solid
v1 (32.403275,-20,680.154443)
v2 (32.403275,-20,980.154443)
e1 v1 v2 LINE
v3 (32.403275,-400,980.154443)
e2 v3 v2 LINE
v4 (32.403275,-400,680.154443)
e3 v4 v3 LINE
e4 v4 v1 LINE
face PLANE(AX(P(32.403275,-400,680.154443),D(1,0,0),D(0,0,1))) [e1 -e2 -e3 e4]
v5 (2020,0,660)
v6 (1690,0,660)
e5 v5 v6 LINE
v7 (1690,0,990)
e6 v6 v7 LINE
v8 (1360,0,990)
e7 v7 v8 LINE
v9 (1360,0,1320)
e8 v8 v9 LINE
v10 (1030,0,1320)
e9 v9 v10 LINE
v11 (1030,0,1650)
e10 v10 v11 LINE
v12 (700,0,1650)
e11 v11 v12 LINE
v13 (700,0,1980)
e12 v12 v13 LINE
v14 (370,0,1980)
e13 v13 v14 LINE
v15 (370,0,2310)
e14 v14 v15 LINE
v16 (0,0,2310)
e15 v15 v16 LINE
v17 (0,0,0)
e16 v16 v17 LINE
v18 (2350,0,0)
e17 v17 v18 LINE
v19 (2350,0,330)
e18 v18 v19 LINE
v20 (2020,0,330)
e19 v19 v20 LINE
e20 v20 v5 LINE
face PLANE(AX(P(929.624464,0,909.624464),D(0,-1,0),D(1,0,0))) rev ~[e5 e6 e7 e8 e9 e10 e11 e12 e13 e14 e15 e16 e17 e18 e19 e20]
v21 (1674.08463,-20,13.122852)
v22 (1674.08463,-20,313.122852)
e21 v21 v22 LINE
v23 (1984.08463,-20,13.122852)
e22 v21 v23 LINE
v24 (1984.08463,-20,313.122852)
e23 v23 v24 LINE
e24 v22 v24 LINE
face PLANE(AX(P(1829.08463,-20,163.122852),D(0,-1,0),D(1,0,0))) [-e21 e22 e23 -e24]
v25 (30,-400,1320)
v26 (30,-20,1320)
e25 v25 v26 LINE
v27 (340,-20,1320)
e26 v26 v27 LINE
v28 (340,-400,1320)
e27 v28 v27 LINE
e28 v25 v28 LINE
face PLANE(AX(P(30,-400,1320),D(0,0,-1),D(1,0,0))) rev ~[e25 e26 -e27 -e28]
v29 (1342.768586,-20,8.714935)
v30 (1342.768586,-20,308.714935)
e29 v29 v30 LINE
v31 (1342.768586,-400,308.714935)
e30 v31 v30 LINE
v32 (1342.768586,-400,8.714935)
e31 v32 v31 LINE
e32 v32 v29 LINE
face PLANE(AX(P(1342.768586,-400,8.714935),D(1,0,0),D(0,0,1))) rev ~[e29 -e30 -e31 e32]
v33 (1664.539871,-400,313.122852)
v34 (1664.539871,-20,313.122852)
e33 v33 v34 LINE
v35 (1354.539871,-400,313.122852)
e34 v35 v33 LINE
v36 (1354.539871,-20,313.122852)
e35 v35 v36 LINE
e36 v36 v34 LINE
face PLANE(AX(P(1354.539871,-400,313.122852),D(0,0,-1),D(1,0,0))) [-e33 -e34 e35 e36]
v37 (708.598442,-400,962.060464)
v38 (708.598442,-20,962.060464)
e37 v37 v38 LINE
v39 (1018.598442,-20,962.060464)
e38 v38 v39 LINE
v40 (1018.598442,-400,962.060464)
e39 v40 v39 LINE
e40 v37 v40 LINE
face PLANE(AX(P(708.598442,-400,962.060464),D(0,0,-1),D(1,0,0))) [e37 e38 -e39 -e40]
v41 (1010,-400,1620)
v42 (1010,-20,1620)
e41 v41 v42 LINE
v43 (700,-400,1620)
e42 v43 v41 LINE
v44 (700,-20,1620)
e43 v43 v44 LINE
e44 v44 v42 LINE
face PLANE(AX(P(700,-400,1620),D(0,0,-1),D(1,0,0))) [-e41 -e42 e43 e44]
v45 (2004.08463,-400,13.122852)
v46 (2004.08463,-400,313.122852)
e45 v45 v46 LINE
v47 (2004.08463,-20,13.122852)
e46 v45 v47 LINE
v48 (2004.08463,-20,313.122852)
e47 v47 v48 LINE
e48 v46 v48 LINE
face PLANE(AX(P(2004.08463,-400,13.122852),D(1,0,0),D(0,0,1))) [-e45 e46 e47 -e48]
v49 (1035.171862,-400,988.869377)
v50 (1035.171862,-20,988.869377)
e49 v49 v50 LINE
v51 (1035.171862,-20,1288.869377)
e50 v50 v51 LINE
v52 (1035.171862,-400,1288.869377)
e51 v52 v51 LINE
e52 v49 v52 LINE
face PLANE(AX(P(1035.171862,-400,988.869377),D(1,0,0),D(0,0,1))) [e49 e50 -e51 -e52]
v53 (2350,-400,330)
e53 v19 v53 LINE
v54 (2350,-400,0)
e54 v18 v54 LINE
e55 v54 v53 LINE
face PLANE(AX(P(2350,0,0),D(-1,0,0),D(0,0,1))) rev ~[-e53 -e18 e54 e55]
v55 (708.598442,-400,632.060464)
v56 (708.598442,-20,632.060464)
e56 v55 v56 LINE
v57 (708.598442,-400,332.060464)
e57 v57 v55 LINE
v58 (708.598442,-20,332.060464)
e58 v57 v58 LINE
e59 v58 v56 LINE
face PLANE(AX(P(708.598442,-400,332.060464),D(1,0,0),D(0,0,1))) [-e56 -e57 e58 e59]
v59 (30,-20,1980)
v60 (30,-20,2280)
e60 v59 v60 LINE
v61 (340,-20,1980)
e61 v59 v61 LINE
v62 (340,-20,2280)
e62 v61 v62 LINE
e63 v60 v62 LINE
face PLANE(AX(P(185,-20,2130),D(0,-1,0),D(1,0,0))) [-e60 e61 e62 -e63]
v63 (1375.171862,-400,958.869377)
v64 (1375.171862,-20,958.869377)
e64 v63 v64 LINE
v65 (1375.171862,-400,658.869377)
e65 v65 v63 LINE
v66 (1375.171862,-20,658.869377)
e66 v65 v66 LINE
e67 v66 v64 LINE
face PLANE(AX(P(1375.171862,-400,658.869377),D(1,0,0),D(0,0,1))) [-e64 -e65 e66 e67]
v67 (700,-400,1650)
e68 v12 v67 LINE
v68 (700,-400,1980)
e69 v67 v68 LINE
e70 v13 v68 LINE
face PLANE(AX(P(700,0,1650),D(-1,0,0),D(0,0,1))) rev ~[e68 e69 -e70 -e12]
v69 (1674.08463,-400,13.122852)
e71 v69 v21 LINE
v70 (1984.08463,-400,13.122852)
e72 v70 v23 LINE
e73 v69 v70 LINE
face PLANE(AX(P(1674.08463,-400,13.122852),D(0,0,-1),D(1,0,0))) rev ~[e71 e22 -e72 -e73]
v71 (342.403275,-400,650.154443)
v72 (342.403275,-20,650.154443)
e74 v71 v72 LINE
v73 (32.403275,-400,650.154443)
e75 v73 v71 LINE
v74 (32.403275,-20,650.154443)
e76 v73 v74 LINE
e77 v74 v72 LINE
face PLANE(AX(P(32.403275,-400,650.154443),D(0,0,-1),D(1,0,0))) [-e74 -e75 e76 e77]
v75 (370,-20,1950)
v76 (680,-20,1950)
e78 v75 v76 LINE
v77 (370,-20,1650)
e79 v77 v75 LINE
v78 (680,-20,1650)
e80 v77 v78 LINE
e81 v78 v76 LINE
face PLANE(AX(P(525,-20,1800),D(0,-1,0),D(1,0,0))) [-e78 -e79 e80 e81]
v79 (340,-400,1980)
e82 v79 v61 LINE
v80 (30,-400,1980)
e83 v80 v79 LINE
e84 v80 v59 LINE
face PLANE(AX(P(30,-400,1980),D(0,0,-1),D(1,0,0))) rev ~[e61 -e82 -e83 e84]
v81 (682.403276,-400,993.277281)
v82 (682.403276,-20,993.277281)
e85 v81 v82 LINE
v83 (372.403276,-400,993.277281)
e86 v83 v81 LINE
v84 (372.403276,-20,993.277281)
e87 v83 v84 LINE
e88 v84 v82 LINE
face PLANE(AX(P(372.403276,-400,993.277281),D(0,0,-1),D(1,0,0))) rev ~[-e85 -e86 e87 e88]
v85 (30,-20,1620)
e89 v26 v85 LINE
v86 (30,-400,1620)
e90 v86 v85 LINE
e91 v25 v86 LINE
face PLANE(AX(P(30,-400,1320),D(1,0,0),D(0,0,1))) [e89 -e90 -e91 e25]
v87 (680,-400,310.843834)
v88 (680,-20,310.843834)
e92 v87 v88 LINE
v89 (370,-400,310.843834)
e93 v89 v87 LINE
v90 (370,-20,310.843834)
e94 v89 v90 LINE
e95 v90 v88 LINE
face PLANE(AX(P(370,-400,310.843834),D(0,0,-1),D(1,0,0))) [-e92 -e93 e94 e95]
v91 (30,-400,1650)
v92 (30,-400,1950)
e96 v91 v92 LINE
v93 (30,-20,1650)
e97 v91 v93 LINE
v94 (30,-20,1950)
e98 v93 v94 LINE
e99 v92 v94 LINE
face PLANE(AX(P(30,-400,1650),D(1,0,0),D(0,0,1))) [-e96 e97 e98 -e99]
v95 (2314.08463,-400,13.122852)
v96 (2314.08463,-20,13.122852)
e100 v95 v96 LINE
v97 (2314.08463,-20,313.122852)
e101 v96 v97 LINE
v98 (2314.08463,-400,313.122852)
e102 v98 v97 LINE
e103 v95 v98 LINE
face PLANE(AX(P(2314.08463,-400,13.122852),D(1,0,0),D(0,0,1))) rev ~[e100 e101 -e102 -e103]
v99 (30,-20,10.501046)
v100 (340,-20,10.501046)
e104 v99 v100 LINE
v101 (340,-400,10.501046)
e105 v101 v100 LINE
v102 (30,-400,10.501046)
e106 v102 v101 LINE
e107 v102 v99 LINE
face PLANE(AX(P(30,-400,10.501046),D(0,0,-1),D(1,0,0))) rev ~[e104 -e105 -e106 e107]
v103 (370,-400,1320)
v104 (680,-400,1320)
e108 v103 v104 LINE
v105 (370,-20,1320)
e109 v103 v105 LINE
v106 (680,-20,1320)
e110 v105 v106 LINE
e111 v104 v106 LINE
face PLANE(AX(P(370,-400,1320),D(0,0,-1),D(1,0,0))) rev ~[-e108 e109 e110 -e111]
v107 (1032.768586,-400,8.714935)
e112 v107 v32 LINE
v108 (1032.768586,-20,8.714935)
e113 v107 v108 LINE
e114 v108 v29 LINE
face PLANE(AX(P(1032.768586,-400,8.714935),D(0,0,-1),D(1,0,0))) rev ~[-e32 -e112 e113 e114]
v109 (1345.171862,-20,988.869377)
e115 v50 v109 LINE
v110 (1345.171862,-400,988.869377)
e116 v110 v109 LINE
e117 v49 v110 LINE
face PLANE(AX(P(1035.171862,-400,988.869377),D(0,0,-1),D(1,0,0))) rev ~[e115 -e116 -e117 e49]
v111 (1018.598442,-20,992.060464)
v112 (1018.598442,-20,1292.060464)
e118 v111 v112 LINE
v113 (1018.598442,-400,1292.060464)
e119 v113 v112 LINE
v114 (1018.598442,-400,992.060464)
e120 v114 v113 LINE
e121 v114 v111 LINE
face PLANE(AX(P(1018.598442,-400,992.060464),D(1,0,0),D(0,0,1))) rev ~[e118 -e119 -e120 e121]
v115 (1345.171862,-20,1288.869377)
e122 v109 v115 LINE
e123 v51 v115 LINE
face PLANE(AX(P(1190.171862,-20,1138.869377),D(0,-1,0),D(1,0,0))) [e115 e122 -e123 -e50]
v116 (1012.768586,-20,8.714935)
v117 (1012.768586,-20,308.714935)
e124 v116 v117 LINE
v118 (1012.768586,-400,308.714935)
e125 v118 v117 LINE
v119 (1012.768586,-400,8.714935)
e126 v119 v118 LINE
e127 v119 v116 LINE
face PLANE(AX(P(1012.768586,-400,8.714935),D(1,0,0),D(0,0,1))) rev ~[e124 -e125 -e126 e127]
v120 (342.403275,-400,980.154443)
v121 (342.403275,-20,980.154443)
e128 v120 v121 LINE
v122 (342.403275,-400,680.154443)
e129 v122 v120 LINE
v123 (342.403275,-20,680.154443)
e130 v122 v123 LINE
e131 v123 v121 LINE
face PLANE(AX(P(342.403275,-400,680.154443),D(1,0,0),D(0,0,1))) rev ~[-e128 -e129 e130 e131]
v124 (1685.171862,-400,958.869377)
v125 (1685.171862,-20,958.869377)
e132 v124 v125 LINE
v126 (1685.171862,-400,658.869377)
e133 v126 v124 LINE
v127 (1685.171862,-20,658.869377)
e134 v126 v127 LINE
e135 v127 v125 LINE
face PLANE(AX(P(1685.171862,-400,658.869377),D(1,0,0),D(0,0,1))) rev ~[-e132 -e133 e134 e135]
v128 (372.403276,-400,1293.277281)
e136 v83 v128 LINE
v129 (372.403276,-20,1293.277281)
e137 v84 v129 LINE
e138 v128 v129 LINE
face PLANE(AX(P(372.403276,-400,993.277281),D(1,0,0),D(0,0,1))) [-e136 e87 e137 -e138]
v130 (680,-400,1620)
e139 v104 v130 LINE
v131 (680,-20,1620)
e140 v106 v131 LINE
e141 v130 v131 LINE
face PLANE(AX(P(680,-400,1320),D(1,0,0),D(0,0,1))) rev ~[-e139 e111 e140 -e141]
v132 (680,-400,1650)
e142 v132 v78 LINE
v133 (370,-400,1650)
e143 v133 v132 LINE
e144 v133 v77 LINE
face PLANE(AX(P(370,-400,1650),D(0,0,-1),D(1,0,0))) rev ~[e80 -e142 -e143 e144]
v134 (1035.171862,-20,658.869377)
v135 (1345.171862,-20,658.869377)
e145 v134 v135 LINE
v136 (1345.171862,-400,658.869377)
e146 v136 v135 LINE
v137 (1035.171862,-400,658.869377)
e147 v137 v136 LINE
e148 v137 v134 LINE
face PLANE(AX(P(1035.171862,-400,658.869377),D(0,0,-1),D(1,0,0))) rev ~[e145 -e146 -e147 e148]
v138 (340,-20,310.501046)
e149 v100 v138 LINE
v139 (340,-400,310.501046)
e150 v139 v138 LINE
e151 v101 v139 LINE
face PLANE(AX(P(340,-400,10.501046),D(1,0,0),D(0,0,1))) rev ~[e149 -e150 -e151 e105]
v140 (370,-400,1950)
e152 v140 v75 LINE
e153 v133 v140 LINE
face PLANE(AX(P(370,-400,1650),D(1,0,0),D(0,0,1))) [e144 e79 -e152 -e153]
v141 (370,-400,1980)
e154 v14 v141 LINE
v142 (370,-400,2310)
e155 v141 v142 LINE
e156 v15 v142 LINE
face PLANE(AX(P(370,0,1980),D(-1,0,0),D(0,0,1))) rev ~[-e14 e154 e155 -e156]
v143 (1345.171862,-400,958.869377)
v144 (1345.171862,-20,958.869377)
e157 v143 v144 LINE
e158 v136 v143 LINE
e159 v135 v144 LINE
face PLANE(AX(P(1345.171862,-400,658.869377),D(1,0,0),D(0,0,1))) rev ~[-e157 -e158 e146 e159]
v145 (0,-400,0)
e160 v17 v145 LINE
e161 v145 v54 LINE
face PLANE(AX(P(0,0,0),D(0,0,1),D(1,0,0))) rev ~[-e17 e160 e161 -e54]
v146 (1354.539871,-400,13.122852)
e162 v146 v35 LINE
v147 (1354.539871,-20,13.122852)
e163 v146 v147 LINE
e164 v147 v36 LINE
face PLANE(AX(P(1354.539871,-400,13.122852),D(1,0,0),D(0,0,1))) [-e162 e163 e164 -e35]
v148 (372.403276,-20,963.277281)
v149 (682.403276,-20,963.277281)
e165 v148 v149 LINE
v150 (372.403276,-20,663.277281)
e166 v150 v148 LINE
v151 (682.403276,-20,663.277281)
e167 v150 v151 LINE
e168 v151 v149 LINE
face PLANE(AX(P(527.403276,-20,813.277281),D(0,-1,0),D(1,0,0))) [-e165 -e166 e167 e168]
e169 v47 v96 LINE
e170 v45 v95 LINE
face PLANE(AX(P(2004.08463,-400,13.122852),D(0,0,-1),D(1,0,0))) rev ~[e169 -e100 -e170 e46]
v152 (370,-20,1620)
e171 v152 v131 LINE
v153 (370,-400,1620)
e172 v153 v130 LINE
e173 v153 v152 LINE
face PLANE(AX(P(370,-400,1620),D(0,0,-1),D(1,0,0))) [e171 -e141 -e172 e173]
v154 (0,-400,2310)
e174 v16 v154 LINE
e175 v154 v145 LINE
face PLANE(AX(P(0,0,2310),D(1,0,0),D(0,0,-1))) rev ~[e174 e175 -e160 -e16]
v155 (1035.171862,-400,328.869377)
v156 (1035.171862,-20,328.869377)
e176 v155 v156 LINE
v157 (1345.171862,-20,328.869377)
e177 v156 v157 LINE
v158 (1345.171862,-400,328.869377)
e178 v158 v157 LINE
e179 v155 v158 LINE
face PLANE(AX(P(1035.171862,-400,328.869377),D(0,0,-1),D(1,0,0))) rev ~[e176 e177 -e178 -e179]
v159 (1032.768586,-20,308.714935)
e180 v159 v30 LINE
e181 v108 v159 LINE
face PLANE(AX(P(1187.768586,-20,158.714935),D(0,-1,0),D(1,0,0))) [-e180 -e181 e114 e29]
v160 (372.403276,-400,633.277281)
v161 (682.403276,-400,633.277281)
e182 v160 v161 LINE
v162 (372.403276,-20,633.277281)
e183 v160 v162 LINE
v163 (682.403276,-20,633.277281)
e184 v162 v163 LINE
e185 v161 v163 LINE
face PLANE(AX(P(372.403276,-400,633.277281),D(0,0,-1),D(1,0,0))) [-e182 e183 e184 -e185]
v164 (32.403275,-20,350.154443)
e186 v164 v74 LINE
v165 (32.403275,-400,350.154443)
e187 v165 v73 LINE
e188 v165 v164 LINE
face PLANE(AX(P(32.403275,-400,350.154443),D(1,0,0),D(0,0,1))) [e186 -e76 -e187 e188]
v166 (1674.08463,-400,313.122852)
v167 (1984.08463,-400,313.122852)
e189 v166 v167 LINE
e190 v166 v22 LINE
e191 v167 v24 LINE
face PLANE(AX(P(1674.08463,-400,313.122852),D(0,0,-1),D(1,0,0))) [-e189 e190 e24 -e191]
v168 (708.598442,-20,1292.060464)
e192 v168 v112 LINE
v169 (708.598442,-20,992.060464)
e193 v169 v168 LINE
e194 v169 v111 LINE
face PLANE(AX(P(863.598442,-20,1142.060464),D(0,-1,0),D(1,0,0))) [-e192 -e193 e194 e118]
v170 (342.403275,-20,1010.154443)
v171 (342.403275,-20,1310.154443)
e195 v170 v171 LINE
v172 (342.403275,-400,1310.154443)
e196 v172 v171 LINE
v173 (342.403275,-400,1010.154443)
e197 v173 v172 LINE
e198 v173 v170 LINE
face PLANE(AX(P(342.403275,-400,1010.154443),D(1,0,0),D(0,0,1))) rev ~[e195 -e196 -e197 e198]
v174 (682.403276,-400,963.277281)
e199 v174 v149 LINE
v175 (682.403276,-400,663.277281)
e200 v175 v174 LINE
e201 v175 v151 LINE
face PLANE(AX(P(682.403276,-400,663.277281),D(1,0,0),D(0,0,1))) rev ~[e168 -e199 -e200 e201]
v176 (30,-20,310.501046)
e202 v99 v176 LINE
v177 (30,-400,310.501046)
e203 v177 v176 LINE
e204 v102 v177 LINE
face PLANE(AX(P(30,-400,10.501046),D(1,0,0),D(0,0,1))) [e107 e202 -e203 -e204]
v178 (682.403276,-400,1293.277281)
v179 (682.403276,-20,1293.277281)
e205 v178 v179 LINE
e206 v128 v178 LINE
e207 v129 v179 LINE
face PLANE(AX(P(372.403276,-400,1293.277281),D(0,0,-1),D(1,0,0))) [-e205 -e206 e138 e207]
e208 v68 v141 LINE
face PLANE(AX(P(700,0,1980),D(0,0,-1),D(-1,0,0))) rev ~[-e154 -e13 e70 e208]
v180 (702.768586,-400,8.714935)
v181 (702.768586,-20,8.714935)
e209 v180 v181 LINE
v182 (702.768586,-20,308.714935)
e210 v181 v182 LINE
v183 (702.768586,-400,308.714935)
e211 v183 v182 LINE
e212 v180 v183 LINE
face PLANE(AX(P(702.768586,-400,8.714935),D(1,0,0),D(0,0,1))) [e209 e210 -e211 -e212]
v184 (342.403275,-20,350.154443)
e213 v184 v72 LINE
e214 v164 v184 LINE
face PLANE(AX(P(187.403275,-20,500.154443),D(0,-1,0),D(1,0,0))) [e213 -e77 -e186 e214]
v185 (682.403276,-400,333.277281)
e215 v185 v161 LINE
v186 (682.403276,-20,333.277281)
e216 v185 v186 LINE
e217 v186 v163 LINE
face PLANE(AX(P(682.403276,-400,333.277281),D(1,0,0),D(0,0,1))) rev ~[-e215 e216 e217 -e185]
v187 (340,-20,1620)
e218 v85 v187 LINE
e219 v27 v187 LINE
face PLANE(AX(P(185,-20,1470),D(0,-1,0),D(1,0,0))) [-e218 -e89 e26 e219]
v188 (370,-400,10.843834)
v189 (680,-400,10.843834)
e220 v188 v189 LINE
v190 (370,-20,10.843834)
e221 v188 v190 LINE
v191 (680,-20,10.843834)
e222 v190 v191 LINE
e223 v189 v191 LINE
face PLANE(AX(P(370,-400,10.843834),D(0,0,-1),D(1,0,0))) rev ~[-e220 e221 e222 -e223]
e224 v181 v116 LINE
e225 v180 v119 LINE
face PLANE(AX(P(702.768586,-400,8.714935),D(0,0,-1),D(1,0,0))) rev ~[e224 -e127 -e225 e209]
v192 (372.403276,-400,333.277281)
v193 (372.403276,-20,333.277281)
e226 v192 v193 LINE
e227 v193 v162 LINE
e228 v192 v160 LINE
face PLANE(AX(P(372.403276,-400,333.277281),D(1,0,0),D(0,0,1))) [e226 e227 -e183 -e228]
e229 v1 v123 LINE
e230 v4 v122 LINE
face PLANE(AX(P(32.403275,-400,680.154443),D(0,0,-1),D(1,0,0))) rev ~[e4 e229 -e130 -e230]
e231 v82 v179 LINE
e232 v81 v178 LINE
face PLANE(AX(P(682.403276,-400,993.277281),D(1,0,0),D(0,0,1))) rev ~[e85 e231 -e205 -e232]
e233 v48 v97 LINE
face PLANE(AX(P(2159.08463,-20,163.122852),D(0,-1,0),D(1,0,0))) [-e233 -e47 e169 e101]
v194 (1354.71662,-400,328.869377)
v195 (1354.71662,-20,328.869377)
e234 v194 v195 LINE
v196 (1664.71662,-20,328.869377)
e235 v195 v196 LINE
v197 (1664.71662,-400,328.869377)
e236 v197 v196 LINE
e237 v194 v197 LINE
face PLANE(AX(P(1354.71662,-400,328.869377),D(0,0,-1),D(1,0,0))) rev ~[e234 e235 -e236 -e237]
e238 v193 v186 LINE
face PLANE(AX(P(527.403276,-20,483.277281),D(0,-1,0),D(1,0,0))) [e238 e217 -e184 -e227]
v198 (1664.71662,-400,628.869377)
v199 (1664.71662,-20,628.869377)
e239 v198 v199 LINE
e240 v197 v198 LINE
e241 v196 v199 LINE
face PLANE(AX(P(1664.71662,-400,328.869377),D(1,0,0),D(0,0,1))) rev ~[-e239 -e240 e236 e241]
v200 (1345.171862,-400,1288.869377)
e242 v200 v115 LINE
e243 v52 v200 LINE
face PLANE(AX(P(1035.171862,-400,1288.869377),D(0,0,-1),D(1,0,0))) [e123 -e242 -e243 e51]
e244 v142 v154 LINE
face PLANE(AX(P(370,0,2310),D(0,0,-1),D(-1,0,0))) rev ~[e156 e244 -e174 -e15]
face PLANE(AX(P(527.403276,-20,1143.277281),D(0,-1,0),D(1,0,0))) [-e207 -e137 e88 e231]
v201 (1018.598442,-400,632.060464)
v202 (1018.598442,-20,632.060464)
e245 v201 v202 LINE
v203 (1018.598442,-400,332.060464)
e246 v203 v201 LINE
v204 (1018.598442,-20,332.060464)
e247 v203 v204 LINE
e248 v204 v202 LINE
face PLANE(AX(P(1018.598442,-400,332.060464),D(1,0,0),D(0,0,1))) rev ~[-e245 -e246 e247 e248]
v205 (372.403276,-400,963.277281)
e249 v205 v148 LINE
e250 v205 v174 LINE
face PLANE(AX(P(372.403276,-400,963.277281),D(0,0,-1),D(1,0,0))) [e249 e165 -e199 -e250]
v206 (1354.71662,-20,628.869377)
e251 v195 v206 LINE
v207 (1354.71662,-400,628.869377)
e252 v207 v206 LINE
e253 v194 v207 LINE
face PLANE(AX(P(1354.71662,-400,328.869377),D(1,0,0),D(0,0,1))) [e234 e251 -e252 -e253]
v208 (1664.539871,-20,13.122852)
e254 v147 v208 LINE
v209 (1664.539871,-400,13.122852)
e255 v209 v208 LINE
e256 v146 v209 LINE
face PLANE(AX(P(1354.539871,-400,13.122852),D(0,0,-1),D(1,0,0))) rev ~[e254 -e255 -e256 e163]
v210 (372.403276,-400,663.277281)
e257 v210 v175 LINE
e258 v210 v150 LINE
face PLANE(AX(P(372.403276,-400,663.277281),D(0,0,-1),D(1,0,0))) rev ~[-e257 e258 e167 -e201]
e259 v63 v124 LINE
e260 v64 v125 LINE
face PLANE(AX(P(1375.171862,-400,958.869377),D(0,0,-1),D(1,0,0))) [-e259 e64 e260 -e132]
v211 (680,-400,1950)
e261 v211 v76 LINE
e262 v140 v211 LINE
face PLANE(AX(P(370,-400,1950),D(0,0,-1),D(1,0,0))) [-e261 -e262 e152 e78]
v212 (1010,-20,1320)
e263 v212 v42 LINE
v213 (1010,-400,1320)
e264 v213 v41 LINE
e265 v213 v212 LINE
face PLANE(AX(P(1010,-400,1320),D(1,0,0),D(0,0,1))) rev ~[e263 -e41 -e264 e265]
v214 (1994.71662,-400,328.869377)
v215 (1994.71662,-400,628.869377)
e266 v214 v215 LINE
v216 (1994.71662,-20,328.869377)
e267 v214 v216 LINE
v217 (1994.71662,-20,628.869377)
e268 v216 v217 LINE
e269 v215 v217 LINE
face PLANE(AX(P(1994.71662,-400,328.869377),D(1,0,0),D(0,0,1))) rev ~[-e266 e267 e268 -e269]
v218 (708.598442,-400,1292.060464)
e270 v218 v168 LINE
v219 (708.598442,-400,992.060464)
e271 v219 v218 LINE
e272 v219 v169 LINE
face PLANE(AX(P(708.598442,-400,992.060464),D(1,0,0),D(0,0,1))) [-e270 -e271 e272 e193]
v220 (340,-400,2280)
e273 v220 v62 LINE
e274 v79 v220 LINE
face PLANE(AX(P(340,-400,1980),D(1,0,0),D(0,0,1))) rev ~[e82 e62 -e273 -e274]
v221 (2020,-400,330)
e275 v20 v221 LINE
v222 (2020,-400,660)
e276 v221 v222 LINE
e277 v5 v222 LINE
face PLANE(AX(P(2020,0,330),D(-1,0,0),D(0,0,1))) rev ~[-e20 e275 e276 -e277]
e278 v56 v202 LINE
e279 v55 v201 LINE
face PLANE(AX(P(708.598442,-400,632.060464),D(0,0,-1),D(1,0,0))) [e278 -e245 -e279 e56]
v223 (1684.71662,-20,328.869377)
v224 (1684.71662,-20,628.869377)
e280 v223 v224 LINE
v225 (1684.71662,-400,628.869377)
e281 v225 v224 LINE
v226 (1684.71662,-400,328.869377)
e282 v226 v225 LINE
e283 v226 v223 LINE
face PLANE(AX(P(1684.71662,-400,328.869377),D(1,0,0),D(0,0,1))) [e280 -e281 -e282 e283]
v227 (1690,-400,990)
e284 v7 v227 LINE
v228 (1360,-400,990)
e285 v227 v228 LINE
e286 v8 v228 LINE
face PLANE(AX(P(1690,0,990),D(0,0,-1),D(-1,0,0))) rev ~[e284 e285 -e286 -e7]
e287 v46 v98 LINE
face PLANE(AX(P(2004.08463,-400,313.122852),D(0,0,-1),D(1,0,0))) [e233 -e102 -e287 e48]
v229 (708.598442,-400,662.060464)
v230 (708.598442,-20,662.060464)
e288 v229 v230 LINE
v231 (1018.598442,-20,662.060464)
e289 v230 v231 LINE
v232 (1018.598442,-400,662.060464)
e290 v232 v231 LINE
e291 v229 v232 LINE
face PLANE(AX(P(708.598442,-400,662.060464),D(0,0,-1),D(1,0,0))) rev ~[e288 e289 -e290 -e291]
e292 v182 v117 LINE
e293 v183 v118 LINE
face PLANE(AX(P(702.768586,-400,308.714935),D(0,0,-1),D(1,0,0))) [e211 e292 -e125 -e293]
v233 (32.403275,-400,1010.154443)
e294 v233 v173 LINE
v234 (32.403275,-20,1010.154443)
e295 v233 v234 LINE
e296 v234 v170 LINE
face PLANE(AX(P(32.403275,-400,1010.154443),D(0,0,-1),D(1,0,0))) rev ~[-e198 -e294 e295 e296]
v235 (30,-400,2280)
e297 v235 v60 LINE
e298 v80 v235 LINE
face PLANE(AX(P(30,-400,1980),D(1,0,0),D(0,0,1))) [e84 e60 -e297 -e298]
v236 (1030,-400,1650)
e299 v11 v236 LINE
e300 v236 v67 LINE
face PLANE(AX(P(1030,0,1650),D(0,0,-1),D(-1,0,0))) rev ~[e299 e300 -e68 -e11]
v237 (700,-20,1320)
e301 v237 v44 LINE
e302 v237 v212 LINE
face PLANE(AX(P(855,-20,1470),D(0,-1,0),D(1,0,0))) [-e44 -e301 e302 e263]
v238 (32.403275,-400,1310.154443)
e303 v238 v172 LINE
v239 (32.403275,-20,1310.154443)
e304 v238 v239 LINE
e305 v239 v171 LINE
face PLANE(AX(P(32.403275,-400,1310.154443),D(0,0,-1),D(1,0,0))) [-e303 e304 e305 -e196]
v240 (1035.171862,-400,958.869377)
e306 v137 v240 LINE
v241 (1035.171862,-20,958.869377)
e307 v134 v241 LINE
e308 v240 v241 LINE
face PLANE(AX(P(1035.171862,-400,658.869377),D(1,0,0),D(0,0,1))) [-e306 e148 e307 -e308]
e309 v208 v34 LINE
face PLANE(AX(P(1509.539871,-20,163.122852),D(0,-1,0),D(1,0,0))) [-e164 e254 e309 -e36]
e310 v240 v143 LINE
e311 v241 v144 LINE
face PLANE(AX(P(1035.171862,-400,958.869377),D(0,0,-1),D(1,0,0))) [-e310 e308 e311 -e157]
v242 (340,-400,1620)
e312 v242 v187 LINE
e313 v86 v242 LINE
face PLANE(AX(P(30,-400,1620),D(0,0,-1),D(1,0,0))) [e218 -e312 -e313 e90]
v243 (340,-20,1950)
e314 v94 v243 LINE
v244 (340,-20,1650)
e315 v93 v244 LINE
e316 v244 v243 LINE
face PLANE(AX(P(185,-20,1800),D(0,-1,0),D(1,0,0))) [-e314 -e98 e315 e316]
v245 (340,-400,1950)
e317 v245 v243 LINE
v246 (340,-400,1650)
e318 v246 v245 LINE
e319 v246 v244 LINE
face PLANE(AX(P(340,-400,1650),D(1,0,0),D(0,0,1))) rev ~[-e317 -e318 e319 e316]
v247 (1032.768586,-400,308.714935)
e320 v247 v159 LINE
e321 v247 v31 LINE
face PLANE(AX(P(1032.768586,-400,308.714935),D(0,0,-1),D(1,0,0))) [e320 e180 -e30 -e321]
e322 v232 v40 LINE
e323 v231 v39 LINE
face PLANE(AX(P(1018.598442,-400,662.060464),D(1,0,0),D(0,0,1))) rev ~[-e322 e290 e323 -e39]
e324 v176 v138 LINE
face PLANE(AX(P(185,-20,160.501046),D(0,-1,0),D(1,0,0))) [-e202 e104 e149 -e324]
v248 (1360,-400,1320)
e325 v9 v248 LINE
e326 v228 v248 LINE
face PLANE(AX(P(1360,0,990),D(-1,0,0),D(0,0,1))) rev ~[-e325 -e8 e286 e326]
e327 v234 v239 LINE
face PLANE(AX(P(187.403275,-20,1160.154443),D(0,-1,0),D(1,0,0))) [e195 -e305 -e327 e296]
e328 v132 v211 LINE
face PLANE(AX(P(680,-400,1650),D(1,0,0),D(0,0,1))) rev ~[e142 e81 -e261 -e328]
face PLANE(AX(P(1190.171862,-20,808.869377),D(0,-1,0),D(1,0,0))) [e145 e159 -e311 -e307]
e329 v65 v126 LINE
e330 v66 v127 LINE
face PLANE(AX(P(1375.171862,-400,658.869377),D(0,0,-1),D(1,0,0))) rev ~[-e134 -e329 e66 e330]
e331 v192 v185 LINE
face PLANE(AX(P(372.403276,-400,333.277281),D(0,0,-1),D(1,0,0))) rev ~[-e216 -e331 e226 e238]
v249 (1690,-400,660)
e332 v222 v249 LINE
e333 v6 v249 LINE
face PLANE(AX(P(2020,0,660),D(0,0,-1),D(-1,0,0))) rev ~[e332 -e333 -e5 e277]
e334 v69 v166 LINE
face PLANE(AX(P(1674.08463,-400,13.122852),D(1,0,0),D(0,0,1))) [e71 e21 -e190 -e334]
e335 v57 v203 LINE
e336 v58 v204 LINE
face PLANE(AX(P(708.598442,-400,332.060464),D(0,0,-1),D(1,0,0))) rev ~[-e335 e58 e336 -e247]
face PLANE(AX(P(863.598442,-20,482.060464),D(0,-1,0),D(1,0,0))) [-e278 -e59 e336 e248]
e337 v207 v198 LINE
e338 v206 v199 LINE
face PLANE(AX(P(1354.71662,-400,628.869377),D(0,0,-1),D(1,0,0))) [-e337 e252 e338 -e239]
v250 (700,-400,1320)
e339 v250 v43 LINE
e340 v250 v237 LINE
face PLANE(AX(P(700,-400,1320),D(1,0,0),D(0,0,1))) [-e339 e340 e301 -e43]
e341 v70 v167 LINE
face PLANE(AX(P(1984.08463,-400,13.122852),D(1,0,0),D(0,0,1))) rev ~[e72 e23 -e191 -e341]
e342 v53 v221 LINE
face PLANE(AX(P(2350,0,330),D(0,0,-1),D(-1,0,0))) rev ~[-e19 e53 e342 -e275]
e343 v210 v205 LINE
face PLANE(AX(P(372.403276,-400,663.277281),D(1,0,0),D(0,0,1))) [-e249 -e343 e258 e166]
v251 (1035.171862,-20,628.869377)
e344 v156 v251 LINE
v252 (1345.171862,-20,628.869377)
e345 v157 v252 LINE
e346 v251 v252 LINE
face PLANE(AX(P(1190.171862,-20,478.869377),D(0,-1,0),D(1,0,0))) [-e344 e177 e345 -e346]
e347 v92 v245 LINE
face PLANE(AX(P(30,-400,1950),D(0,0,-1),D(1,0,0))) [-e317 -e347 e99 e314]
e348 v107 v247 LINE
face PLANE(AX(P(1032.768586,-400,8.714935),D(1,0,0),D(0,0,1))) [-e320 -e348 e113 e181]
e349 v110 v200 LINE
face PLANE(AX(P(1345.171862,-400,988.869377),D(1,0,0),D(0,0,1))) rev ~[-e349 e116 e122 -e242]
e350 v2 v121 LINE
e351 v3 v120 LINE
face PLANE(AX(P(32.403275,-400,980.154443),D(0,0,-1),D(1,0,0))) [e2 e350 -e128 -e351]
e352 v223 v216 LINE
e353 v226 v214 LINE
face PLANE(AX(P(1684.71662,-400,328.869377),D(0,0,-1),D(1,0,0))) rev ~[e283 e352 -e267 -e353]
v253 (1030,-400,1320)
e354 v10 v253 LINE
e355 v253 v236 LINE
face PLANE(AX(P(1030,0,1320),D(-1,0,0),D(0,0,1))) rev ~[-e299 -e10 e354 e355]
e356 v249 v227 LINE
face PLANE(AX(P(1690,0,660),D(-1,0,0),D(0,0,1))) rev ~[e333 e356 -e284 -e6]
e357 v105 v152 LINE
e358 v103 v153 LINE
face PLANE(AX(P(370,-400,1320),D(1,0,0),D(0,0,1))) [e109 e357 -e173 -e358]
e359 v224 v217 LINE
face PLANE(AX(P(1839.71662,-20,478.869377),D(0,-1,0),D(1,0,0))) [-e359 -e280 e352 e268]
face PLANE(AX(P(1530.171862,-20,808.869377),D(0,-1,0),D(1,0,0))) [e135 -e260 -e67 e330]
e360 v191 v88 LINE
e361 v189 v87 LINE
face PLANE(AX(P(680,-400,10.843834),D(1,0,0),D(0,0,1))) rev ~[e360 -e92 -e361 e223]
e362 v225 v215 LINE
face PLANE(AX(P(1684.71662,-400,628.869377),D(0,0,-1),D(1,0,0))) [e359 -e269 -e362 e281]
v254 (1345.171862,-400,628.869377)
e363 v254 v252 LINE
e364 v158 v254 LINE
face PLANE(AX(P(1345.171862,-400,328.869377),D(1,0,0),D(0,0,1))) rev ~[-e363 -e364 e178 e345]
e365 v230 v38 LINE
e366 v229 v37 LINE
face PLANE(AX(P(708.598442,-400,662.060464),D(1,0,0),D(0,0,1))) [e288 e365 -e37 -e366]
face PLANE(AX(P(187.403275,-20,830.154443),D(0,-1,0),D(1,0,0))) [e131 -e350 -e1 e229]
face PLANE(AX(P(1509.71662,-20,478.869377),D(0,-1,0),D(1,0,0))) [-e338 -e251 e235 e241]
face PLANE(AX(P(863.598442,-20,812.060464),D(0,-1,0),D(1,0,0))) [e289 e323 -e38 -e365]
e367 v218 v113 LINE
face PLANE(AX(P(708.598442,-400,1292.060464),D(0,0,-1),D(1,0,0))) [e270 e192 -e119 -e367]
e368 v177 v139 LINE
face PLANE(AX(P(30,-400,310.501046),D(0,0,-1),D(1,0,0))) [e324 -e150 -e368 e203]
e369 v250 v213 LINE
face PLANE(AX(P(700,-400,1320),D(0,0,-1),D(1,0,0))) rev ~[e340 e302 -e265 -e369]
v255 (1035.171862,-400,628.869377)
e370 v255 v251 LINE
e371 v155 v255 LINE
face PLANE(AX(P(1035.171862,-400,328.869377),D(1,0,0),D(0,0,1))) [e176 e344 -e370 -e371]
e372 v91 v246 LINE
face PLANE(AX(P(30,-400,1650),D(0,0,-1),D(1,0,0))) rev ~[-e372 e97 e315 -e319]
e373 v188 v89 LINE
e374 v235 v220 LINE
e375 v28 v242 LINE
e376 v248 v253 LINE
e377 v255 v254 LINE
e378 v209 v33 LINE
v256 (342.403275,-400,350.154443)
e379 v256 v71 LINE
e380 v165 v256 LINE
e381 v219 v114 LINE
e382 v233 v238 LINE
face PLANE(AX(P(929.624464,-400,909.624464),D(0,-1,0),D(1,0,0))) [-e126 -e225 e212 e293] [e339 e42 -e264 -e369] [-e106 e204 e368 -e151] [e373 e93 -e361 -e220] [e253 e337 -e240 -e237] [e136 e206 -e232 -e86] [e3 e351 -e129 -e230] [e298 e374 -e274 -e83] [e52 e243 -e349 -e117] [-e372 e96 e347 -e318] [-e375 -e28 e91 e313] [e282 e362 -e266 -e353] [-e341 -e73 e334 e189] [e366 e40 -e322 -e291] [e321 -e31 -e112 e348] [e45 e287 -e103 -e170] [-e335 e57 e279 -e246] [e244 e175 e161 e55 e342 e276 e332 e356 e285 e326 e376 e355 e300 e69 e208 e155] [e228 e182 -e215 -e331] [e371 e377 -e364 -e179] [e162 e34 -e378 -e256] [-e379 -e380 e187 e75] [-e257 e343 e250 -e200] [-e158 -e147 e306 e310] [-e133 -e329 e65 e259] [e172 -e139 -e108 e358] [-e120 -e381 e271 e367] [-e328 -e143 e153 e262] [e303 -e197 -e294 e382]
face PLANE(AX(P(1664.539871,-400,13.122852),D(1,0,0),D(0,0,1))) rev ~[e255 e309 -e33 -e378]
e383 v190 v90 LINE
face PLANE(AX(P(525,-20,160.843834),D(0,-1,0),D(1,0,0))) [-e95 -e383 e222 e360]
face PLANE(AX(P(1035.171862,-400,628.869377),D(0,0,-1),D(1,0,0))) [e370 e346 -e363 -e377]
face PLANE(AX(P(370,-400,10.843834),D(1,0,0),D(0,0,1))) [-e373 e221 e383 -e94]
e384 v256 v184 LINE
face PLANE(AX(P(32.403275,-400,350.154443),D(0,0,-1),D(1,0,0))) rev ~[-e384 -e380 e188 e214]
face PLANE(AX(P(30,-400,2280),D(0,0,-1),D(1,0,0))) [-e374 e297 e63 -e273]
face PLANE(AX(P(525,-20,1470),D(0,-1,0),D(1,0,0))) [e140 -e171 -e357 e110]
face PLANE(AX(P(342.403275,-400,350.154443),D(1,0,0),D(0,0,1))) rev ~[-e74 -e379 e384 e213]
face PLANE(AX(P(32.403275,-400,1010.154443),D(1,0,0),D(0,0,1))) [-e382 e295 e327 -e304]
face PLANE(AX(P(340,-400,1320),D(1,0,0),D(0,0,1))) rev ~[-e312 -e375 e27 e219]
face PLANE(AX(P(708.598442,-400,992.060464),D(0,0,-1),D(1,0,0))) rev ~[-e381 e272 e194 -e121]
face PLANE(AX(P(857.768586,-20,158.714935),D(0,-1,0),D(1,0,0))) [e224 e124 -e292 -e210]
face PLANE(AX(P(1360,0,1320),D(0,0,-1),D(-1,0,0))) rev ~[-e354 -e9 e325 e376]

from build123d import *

# Parameters (mm, degrees)
F1_DEPTH = 400
F2_W     = 310
F2_H     = 300
F3_DEPTH = 380


with BuildPart() as f1:
    # F0 (on Front) → F1 (new body)
    with BuildSketch(Plane.XZ):
        Polygon((0, 2310), (0, 0), (2350, 0), (2350, 330), (2020, 330), (2020, 660), (1690, 660), (1690, 990), (1360, 990), (1360, 1320), (1030, 1320), (1030, 1650), (700, 1650), (700, 1980), (370, 1980), (370, 2310), align=None)
    extrude(amount=F1_DEPTH)

    # F2 (on face) → F3 (cut)
    with BuildSketch(Plane.XZ.offset(400)):
        with Locations((185, 2130)):
            Rectangle(F2_W, F2_H)
        with Locations((185, 1800)):
            Rectangle(F2_W, F2_H)
        with Locations((525, 1800)):
            Rectangle(F2_W, F2_H)
        with Locations((185, 1470)):
            Rectangle(F2_W, F2_H)
        with Locations((525, 1470)):
            Rectangle(F2_W, F2_H)
        with Locations((855, 1470)):
            Rectangle(F2_W, F2_H)
        with Locations((1190.171862, 1138.869377)):
            Rectangle(F2_W, F2_H)
        with Locations((1190.171862, 808.869377)):
            Rectangle(F2_W, F2_H)
        with Locations((1530.171862, 808.869377)):
            Rectangle(F2_W, F2_H)
        with Locations((1190.171862, 478.869377)):
            Rectangle(F2_W, F2_H)
        with Locations((1509.71662, 478.869377)):
            Rectangle(F2_W, F2_H)
        with Locations((1839.71662, 478.869377)):
            Rectangle(F2_W, F2_H)
        with Locations((1509.539871, 163.122852)):
            Rectangle(F2_W, F2_H)
        with Locations((1829.08463, 163.122852)):
            Rectangle(F2_W, F2_H)
        with Locations((2159.08463, 163.122852)):
            Rectangle(F2_W, F2_H)
        with Locations((525, 160.843834)):
            Rectangle(F2_W, F2_H)
        with Locations((857.768586, 158.714935)):
            Rectangle(F2_W, F2_H)
        with Locations((1187.768586, 158.714935)):
            Rectangle(F2_W, F2_H)
        with Locations((185, 160.501046)):
            Rectangle(F2_W, F2_H)
        with Locations((187.403275, 1160.154443)):
            Rectangle(F2_W, F2_H)
        with Locations((187.403275, 830.154443)):
            Rectangle(F2_W, F2_H)
        with Locations((187.403275, 500.154443)):
            Rectangle(F2_W, F2_H)
        with Locations((527.403276, 1143.277281)):
            Rectangle(F2_W, F2_H)
        with Locations((527.403276, 813.277281)):
            Rectangle(F2_W, F2_H)
        with Locations((527.403276, 483.277281)):
            Rectangle(F2_W, F2_H)
        with Locations((863.598442, 1142.060464)):
            Rectangle(F2_W, F2_H)
        with Locations((863.598442, 812.060464)):
            Rectangle(F2_W, F2_H)
        with Locations((863.598442, 482.060464)):
            Rectangle(F2_W, F2_H)
    extrude(amount=-F3_DEPTH, mode=Mode.SUBTRACT)


solid = f1.part
